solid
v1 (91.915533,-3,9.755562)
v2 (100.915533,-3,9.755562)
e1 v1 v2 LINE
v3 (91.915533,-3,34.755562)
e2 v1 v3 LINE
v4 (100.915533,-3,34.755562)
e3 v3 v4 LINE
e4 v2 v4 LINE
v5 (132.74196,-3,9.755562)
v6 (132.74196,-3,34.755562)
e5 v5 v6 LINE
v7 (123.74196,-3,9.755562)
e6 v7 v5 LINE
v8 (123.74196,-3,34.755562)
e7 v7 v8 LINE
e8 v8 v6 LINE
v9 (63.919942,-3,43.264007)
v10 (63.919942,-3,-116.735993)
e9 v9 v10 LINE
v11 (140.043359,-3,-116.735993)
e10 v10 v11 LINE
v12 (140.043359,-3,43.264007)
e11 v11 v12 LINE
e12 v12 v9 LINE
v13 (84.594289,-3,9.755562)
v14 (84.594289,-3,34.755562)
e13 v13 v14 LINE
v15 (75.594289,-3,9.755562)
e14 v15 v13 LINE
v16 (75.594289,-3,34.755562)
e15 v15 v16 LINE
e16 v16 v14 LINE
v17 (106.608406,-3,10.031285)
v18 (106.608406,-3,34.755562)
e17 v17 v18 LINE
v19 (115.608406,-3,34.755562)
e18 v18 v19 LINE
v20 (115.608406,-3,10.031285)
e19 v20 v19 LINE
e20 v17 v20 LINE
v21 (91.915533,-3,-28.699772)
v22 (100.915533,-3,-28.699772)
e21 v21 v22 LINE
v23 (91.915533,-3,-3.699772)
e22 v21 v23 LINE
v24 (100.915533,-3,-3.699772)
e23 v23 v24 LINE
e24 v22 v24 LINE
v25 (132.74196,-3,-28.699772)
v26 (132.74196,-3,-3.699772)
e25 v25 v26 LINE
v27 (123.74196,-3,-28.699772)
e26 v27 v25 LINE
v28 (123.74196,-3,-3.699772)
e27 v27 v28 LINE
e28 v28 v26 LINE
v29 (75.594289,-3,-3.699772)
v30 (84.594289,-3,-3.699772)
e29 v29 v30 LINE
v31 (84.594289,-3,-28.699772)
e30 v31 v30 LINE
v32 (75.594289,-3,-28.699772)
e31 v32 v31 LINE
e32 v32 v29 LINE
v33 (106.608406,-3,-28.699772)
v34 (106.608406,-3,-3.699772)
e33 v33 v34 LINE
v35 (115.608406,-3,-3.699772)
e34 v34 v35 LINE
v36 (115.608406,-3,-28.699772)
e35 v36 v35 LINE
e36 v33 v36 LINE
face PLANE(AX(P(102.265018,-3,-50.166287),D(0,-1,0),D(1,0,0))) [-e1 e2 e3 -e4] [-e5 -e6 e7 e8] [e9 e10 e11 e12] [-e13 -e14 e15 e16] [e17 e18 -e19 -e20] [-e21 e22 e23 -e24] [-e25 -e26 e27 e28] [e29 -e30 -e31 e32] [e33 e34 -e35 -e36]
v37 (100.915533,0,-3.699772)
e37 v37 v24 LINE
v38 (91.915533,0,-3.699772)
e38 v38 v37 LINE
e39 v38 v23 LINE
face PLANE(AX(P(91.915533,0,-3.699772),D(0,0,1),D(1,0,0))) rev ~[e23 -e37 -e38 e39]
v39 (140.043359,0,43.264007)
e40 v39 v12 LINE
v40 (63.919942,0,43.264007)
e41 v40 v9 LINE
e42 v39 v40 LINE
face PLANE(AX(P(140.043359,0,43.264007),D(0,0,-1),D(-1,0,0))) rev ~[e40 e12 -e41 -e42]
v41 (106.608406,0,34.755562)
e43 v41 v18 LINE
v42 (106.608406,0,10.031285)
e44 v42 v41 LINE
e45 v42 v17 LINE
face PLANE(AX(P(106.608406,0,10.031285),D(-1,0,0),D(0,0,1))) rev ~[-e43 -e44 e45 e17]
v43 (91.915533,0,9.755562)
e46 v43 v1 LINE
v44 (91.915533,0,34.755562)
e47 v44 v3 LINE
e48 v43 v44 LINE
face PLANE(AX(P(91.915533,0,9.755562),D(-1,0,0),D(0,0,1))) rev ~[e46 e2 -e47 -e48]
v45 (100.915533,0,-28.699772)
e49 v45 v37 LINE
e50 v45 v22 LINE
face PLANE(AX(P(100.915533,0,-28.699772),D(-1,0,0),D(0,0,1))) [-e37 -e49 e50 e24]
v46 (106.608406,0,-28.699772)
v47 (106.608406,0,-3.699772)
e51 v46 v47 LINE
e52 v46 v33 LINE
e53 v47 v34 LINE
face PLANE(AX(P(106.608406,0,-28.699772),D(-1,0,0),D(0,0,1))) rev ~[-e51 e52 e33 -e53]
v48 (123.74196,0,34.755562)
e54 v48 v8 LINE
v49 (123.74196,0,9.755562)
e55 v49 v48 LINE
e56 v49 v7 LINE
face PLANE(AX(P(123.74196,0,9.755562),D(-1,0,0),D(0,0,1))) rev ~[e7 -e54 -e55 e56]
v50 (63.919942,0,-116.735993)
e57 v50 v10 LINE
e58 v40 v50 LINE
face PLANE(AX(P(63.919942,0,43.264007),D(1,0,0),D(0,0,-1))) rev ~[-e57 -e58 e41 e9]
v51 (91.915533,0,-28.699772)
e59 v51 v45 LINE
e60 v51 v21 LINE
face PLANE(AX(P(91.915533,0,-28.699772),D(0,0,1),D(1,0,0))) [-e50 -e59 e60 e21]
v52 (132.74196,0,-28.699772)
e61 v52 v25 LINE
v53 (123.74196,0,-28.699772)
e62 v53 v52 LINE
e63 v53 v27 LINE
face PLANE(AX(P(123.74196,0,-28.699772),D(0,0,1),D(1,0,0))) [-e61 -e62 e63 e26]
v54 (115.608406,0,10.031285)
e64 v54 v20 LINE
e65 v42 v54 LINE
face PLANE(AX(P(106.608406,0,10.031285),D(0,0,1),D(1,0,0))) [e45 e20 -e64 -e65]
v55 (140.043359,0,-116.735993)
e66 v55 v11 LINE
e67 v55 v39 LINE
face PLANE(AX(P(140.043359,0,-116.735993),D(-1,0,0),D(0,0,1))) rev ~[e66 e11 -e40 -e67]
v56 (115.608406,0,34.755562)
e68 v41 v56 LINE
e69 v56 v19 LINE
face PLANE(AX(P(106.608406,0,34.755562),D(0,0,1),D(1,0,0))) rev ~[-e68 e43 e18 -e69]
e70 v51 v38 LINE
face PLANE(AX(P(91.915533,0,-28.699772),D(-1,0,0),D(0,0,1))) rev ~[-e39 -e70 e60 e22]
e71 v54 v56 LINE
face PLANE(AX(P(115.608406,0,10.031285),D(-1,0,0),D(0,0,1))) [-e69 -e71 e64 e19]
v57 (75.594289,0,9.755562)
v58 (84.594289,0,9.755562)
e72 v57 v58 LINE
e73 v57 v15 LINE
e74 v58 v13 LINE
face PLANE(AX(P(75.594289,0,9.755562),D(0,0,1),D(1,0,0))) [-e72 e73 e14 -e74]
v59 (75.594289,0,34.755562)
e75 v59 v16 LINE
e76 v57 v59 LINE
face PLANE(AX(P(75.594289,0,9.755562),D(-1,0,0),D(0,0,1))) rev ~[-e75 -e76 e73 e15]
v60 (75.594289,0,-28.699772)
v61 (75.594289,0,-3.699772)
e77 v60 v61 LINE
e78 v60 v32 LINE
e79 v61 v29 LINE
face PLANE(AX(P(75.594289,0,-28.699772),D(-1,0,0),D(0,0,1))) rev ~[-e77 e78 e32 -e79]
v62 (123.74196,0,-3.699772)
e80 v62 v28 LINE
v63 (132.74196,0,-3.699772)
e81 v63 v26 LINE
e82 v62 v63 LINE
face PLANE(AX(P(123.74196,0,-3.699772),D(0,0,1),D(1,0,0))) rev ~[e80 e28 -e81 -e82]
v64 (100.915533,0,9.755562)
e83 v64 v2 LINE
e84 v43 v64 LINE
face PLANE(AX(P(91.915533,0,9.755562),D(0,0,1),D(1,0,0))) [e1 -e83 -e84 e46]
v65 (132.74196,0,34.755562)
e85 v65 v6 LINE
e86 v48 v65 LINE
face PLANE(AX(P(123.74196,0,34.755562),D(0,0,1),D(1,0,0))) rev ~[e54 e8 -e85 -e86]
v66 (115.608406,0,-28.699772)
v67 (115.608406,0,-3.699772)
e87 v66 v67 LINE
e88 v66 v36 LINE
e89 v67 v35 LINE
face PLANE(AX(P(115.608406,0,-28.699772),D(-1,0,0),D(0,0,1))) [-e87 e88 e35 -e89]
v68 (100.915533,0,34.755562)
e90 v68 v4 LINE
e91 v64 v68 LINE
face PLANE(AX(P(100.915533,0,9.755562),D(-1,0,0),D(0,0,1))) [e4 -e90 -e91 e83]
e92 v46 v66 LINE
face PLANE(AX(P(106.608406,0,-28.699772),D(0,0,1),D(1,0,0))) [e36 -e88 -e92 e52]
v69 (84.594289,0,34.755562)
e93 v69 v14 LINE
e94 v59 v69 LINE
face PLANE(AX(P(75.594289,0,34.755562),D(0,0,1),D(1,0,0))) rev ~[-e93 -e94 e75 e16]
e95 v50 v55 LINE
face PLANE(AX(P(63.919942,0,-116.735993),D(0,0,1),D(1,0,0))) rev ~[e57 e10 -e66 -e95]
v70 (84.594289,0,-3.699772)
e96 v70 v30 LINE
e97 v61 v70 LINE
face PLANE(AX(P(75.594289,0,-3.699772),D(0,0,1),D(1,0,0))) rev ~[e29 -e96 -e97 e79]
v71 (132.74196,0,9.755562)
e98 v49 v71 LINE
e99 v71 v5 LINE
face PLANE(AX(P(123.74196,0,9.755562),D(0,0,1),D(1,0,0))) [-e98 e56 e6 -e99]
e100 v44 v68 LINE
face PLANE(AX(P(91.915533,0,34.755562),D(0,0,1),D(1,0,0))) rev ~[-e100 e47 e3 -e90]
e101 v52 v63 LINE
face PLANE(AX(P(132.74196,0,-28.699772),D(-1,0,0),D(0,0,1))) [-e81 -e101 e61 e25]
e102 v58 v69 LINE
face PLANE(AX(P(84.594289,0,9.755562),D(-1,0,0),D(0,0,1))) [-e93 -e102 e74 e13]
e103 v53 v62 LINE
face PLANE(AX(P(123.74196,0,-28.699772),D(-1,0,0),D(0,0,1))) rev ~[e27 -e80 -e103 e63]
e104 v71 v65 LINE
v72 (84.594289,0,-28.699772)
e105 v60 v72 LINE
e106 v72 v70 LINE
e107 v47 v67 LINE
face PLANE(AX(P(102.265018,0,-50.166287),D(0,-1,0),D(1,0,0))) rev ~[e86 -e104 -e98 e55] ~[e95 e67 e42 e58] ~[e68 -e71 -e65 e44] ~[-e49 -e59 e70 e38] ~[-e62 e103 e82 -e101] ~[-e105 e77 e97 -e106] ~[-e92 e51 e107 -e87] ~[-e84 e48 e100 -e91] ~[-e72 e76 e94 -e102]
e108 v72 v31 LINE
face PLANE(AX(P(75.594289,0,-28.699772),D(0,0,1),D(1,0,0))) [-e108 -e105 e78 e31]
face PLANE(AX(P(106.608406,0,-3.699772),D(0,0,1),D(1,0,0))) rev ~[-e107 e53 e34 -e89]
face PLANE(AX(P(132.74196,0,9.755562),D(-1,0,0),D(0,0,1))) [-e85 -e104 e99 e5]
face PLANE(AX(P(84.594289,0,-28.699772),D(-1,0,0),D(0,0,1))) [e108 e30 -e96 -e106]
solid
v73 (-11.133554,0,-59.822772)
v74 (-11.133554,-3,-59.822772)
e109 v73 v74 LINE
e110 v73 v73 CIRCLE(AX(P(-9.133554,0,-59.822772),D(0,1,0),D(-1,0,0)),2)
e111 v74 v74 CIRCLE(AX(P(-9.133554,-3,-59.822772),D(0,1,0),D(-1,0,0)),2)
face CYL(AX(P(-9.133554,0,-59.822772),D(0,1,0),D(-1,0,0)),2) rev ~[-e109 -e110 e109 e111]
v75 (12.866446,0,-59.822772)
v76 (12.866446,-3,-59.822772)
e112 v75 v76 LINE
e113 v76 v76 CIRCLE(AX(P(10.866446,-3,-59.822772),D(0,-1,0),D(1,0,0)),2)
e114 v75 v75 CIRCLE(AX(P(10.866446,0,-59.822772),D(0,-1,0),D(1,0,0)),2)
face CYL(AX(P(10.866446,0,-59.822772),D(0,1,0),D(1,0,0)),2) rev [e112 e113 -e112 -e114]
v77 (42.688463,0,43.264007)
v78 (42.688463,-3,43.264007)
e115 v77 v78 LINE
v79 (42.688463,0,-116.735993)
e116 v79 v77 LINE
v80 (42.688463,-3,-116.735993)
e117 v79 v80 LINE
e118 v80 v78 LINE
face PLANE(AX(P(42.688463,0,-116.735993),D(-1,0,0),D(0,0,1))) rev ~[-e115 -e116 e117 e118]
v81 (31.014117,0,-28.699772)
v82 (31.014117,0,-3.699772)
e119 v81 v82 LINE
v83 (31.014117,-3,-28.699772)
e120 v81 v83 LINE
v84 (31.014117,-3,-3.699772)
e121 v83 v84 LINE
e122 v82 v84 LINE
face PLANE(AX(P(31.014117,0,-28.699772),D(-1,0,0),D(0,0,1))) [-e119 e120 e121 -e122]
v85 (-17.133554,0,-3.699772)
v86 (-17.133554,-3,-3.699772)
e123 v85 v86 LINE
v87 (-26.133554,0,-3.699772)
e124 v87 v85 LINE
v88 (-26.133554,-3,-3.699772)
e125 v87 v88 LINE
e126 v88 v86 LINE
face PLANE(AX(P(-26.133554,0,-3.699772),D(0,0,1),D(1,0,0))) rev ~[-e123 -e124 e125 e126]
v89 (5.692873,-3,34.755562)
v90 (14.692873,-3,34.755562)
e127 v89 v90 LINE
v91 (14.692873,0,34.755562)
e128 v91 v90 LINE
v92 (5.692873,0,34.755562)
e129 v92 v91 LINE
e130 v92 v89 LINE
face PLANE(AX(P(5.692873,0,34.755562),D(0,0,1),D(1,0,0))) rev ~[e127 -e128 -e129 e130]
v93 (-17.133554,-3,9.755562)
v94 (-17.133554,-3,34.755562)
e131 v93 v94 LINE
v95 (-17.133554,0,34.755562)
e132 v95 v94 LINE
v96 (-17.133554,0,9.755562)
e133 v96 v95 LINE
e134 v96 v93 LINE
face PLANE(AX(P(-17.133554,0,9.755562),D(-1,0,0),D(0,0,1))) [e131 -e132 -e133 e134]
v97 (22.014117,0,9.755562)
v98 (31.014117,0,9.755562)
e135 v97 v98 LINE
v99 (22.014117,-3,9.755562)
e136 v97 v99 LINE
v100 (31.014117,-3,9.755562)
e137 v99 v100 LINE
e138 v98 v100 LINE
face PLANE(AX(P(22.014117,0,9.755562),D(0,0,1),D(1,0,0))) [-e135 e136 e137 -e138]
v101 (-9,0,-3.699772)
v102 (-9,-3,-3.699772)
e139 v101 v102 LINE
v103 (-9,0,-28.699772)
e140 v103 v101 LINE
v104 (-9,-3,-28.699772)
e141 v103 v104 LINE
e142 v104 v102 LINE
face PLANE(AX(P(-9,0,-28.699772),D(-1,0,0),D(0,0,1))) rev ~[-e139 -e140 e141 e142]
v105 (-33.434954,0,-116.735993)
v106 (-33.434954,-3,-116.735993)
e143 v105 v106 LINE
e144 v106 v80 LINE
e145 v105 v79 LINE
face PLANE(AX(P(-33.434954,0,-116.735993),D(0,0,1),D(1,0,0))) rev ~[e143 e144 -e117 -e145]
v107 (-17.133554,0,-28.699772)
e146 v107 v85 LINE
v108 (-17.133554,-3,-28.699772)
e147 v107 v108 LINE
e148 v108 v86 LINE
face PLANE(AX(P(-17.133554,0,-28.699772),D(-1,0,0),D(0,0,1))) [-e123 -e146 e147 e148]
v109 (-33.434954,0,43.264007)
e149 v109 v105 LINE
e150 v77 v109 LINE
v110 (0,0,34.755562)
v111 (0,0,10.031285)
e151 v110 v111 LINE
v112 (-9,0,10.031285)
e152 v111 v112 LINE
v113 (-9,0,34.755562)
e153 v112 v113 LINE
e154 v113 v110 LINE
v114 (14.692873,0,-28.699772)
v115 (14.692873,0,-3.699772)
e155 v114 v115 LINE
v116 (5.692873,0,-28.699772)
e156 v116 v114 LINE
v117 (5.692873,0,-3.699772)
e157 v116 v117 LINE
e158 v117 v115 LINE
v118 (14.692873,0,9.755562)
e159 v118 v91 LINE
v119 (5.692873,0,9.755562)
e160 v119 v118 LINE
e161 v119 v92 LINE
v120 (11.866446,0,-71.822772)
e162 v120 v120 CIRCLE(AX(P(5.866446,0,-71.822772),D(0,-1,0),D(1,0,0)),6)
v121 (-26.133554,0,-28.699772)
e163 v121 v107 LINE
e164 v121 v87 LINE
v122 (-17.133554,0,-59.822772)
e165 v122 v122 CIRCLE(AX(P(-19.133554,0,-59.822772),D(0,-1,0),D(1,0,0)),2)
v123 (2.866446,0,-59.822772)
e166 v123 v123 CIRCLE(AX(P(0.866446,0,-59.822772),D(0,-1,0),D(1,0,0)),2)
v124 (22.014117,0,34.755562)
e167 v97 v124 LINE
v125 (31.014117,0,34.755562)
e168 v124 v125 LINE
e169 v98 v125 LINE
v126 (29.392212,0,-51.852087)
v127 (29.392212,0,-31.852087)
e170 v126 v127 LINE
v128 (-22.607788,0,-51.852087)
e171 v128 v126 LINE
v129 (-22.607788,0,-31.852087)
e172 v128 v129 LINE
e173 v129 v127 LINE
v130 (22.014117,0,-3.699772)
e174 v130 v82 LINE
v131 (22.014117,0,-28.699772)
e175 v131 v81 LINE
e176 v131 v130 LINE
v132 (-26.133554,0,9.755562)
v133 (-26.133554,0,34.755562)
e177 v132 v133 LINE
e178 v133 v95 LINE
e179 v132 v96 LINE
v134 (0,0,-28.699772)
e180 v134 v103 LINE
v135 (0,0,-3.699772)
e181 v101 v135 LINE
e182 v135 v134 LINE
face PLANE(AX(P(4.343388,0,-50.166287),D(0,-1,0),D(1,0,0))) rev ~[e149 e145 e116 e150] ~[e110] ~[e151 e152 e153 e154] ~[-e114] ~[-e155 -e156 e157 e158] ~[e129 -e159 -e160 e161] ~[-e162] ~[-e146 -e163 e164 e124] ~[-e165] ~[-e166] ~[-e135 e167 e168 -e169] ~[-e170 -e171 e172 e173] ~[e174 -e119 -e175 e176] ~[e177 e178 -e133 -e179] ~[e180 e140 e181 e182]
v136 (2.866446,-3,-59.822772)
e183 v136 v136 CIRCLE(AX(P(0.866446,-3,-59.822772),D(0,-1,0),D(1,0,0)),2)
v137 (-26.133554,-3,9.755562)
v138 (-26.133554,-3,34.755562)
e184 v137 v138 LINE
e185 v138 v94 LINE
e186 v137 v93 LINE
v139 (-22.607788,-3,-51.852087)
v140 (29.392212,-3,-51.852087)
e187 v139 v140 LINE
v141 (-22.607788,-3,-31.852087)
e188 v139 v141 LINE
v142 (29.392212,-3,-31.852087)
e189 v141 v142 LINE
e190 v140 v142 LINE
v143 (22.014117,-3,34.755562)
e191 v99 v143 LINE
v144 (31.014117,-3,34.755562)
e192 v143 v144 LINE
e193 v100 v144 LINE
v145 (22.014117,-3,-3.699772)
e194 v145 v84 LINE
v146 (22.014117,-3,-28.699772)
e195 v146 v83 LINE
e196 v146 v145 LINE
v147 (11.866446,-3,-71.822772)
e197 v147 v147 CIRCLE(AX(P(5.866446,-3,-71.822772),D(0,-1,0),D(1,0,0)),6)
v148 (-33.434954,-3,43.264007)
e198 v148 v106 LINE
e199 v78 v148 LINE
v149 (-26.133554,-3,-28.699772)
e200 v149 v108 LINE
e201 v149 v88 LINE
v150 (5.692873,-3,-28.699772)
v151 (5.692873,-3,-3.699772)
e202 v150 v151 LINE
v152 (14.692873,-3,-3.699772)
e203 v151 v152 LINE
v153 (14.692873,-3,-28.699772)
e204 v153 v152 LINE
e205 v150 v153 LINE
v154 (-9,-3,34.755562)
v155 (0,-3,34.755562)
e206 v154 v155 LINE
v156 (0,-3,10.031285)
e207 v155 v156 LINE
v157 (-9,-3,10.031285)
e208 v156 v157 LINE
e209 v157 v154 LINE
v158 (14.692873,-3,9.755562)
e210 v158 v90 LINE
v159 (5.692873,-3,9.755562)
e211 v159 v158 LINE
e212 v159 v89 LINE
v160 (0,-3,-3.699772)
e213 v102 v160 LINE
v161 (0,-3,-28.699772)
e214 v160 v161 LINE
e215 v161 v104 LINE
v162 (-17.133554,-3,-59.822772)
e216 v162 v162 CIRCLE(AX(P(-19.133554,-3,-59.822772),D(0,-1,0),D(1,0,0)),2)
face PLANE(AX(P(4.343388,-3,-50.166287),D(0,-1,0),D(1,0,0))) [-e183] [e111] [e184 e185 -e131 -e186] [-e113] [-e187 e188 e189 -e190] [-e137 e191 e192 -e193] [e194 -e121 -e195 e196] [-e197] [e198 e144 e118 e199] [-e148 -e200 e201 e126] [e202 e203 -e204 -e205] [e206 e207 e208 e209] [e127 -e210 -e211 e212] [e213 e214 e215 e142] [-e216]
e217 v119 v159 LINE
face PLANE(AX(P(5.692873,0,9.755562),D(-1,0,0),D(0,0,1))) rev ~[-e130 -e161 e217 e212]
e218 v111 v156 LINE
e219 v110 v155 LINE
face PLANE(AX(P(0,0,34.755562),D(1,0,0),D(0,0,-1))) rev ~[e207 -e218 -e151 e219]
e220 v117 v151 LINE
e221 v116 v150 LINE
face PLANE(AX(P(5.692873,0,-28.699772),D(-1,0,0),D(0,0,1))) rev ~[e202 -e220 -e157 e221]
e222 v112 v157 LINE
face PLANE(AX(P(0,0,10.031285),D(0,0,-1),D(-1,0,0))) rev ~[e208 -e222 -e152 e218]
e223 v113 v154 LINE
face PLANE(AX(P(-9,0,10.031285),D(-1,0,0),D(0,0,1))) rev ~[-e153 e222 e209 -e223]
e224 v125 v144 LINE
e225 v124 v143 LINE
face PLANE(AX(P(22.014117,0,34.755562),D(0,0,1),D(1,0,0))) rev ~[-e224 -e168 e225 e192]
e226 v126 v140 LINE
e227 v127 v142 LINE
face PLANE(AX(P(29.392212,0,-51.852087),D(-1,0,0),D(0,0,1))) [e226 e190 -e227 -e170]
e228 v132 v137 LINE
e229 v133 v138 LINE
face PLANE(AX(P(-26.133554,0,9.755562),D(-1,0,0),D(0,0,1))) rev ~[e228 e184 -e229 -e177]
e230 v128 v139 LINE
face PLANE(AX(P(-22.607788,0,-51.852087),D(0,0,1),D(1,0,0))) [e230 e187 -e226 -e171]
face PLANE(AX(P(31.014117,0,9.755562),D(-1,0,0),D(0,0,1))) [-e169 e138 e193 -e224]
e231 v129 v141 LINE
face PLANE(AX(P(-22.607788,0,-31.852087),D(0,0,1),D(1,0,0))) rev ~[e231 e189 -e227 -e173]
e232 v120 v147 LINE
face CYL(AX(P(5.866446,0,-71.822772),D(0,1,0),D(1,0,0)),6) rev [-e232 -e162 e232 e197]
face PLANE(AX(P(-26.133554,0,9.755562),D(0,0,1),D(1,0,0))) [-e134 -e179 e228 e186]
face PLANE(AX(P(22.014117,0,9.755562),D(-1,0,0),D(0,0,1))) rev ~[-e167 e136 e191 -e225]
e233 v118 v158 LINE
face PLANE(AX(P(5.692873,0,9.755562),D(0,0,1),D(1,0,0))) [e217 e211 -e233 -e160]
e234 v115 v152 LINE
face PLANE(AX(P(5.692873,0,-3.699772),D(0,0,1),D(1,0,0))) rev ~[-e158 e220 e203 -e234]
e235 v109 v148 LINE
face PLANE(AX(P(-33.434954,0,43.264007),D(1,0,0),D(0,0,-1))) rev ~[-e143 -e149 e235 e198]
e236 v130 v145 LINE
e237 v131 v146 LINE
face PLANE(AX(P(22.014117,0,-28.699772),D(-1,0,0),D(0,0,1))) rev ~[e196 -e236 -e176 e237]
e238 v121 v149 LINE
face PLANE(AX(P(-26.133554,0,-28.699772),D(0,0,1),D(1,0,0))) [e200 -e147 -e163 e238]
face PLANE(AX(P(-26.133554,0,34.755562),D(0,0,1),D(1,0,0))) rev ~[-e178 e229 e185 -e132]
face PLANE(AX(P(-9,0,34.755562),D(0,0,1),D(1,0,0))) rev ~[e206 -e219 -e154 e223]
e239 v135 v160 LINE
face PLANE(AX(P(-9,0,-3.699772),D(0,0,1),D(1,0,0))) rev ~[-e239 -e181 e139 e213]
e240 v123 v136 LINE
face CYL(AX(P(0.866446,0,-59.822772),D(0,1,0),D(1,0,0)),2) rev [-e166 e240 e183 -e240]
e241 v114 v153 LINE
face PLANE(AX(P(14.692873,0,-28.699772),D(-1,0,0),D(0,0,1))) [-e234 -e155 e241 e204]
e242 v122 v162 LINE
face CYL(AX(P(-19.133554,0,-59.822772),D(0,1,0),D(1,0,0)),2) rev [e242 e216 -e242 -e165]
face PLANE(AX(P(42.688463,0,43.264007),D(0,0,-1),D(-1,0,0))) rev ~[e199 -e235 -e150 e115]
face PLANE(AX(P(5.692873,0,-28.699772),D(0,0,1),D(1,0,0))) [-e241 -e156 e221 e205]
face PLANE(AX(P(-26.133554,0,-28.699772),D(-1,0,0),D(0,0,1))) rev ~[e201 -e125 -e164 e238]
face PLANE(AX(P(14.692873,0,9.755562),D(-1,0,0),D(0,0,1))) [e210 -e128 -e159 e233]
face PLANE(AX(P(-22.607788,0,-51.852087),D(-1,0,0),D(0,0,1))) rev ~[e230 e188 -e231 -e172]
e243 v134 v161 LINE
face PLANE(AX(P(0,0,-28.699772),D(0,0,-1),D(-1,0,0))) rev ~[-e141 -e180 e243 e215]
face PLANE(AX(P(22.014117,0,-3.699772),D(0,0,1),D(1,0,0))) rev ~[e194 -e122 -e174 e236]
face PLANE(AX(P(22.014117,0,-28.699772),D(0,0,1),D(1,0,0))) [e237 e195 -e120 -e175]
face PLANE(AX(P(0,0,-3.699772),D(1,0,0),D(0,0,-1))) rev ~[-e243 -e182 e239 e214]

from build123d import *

# Parameters (mm, degrees)
F0_R     = 2
F0_R_2   = 6
F0_W     = 52
F0_H     = 20
F0_W_2   = 9
F0_H_2   = 25
F1_DEPTH = 3
F0_H_3   = 24.7242773399


with BuildPart() as f1:
    # F0 (on Front) → F1 (new body)
    with BuildSketch(Plane.XZ):
        with BuildLine():
            Line((-33.4349535406, -90.1943072677), (-33.4349535406, -116.7359932065))
            Line((-33.4349535406, -116.7359932065), (-20.3615333885, -116.7359932065))
            Line((-20.3615333885, -116.7359932065), (-20.3615333885, -88.7359932065))
            Line((-20.3615333885, -88.7359932065), (-15.253016612, -74.6326937222))
            ThreePointArc((-15.253016612, -74.6326937222), (-12.8761914321, -69.3241187044), (-10.7033118009, -74.7193815121))
            Line((-10.7033118009, -74.7193815121), (-5.3615333885, -88.7359932065))
            Line((-5.3615333885, -88.7359932065), (-5.3615333885, -116.7359932065))
            Line((-5.3615333885, -116.7359932065), (12.8664459437, -116.7359932065))
            Line((12.8664459437, -116.7359932065), (12.8664459437, -89.0134006739))
            Line((12.8664459437, -89.0134006739), (16.9397874707, -74.5770614979))
            ThreePointArc((16.9397874707, -74.5770614979), (19.4727024752, -69.5690042791), (22.1009911369, -74.5276728743))
            Line((22.1009911369, -74.5276728743), (27.8664459437, -89.0134006739))
            Line((27.8664459437, -89.0134006739), (27.8664459437, -116.7359932065))
            Line((27.8664459437, -116.7359932065), (42.6884633303, -116.7359932065))
            Line((42.6884633303, -116.7359932065), (42.6884633303, 43.2640067935))
            Line((42.6884633303, 43.2640067935), (-33.4349535406, 43.2640067935))
            Line((-33.4349535406, 43.2640067935), (-33.4349535406, 34.7555621043))
            Line((-33.4349535406, 34.7555621043), (-33.4349535406, -90.1943072677))
        make_face()
        with Locations((-19.1335540563, -59.8227716982)):
            Circle(F0_R, mode=Mode.SUBTRACT)
        with Locations((5.8664459437, -71.8227716982)):
            Circle(F0_R_2, mode=Mode.SUBTRACT)
        with BuildLine():
            ThreePointArc((-7.1335540563, -59.8227716982), (-9.1335540563, -61.8227716982), (-11.1335540563, -59.8227716982))
            ThreePointArc((-11.1335540563, -59.8227716982), (-9.1335540563, -57.8227716982), (-7.1335540563, -59.8227716982))
        make_face(mode=Mode.SUBTRACT)
        with Locations((0.8664459437, -59.8227716982)):
            Circle(F0_R, mode=Mode.SUBTRACT)
        with Locations((3.3922115564, -41.8520871103)):
            Rectangle(F0_W, F0_H, mode=Mode.SUBTRACT)
        with Locations((10.8664459437, -59.8227716982)):
            Circle(F0_R, mode=Mode.SUBTRACT)
        with Locations((-21.6335540563, -16.1997724324)):
            Rectangle(F0_W_2, F0_H_2, mode=Mode.SUBTRACT)
        Polygon((-9, -3.6997724324), (0, -3.6997724324), (0, -12.1065765657), (0, -28.6997724324), (-9, -28.6997724324), align=None, mode=Mode.SUBTRACT)
        with Locations((10.1928726844, -16.1997724324)):
            Rectangle(F0_W_2, F0_H_2, mode=Mode.SUBTRACT)
        with Locations((26.5141168684, -16.1997724324)):
            Rectangle(F0_W_2, F0_H_2, mode=Mode.SUBTRACT)
        with Locations((-21.6335540563, 22.2555621043)):
            Rectangle(F0_W_2, F0_H_2, mode=Mode.SUBTRACT)
        Polygon((-9, 10.0312847644), (-9, 34.7555621043), (0, 34.7555621043), (0, 22.3934234343), (0, 10.0312847644), align=None, mode=Mode.SUBTRACT)
        with Locations((10.1928726844, 22.2555621043)):
            Rectangle(F0_W_2, F0_H_2, mode=Mode.SUBTRACT)
        with Locations((26.5141168684, 22.2555621043)):
            Rectangle(F0_W_2, F0_H_2, mode=Mode.SUBTRACT)
        with BuildLine():
            Line((-20.3615333885, -88.7359932065), (-20.3615333885, -116.7359932065))
            Line((-20.3615333885, -116.7359932065), (-5.3615333885, -116.7359932065))
            Line((-5.3615333885, -116.7359932065), (-5.3615333885, -88.7359932065))
            Line((-5.3615333885, -88.7359932065), (-10.7033118009, -74.7193815121))
            ThreePointArc((-10.7033118009, -74.7193815121), (-12.8761914321, -69.3241187044), (-15.253016612, -74.6326937222))
            Line((-15.253016612, -74.6326937222), (-20.3615333885, -88.7359932065))
        make_face()
        with BuildLine():
            Line((12.8664459437, -89.0134006739), (12.8664459437, -116.7359932065))
            Line((12.8664459437, -116.7359932065), (26.4155082405, -116.7359932065))
            Line((26.4155082405, -116.7359932065), (27.8664459437, -116.7359932065))
            Line((27.8664459437, -116.7359932065), (27.8664459437, -89.0134006739))
            Line((27.8664459437, -89.0134006739), (22.1009911369, -74.5276728743))
            ThreePointArc((22.1009911369, -74.5276728743), (19.4727024752, -69.5690042791), (16.9397874707, -74.5770614979))
            Line((16.9397874707, -74.5770614979), (12.8664459437, -89.0134006739))
        make_face()
    extrude(amount=F1_DEPTH)


with BuildPart() as f1b:
    # F0 (on Front) → F1, piece 2 (new body)
    with BuildSketch(Plane.XZ):
        with BuildLine():
            Line((78.7419597656, -89.0134006739), (84.5074145724, -74.5276728743))
            ThreePointArc((84.5074145724, -74.5276728743), (87.1357032341, -69.5690042791), (89.6686182386, -74.5770614979))
            Line((89.6686182386, -74.5770614979), (93.7419597656, -89.0134006739))
            Line((93.7419597656, -89.0134006739), (93.7419597656, -116.7359932065))
            Line((93.7419597656, -116.7359932065), (111.9699390978, -116.7359932065))
            Line((111.9699390978, -116.7359932065), (111.9699390978, -88.7359932065))
            Line((111.9699390978, -88.7359932065), (117.3117175102, -74.7193815121))
            ThreePointArc((117.3117175102, -74.7193815121), (119.4845971414, -69.3241187044), (121.8614223213, -74.6326937222))
            Line((121.8614223213, -74.6326937222), (126.9699390978, -88.7359932065))
            Line((126.9699390978, -88.7359932065), (126.9699390978, -116.7359932065))
            Line((126.9699390978, -116.7359932065), (140.0433592498, -116.7359932065))
            Line((140.0433592498, -116.7359932065), (140.0433592498, -90.1943072677))
            Line((140.0433592498, -90.1943072677), (140.0433592498, 34.7555621043))
            Line((140.0433592498, 34.7555621043), (140.0433592498, 43.2640067935))
            Line((140.0433592498, 43.2640067935), (63.919942379, 43.2640067935))
            Line((63.919942379, 43.2640067935), (63.919942379, -116.7359932065))
            Line((63.919942379, -116.7359932065), (78.7419597656, -116.7359932065))
            Line((78.7419597656, -116.7359932065), (78.7419597656, -89.0134006739))
        make_face()
        with Locations((80.0942888409, -16.1997724324)):
            Rectangle(F0_W_2, F0_H_2, mode=Mode.SUBTRACT)
        with Locations((96.4155330248, -16.1997724324)):
            Rectangle(F0_W_2, F0_H_2, mode=Mode.SUBTRACT)
        with Locations((111.1084057093, -16.1997724324)):
            Rectangle(F0_W_2, F0_H_2, mode=Mode.SUBTRACT)
        with Locations((128.2419597656, -16.1997724324)):
            Rectangle(F0_W_2, F0_H_2, mode=Mode.SUBTRACT)
        with Locations((80.0942888409, 22.2555621043)):
            Rectangle(F0_W_2, F0_H_2, mode=Mode.SUBTRACT)
        with Locations((96.4155330248, 22.2555621043)):
            Rectangle(F0_W_2, F0_H_2, mode=Mode.SUBTRACT)
        with Locations((111.1084057093, 22.3934234343)):
            Rectangle(F0_W_2, F0_H_3, mode=Mode.SUBTRACT)
        with Locations((128.2419597656, 22.2555621043)):
            Rectangle(F0_W_2, F0_H_2, mode=Mode.SUBTRACT)
        with BuildLine():
            ThreePointArc((89.6686182386, -74.5770614979), (87.1357032341, -69.5690042791), (84.5074145724, -74.5276728743))
            Line((84.5074145724, -74.5276728743), (78.7419597656, -89.0134006739))
            Line((78.7419597656, -89.0134006739), (78.7419597656, -116.7359932065))
            Line((78.7419597656, -116.7359932065), (80.1928974688, -116.7359932065))
            Line((80.1928974688, -116.7359932065), (93.7419597656, -116.7359932065))
            Line((93.7419597656, -116.7359932065), (93.7419597656, -89.0134006739))
            Line((93.7419597656, -89.0134006739), (89.6686182386, -74.5770614979))
        make_face()
        with BuildLine():
            Line((111.9699390978, -88.7359932065), (111.9699390978, -116.7359932065))
            Line((111.9699390978, -116.7359932065), (126.9699390978, -116.7359932065))
            Line((126.9699390978, -116.7359932065), (126.9699390978, -88.7359932065))
            Line((126.9699390978, -88.7359932065), (121.8614223213, -74.6326937222))
            ThreePointArc((121.8614223213, -74.6326937222), (119.4845971414, -69.3241187044), (117.3117175102, -74.7193815121))
            Line((117.3117175102, -74.7193815121), (111.9699390978, -88.7359932065))
        make_face()
    extrude(amount=F1_DEPTH)


solid = Compound([f1.part, f1b.part])
